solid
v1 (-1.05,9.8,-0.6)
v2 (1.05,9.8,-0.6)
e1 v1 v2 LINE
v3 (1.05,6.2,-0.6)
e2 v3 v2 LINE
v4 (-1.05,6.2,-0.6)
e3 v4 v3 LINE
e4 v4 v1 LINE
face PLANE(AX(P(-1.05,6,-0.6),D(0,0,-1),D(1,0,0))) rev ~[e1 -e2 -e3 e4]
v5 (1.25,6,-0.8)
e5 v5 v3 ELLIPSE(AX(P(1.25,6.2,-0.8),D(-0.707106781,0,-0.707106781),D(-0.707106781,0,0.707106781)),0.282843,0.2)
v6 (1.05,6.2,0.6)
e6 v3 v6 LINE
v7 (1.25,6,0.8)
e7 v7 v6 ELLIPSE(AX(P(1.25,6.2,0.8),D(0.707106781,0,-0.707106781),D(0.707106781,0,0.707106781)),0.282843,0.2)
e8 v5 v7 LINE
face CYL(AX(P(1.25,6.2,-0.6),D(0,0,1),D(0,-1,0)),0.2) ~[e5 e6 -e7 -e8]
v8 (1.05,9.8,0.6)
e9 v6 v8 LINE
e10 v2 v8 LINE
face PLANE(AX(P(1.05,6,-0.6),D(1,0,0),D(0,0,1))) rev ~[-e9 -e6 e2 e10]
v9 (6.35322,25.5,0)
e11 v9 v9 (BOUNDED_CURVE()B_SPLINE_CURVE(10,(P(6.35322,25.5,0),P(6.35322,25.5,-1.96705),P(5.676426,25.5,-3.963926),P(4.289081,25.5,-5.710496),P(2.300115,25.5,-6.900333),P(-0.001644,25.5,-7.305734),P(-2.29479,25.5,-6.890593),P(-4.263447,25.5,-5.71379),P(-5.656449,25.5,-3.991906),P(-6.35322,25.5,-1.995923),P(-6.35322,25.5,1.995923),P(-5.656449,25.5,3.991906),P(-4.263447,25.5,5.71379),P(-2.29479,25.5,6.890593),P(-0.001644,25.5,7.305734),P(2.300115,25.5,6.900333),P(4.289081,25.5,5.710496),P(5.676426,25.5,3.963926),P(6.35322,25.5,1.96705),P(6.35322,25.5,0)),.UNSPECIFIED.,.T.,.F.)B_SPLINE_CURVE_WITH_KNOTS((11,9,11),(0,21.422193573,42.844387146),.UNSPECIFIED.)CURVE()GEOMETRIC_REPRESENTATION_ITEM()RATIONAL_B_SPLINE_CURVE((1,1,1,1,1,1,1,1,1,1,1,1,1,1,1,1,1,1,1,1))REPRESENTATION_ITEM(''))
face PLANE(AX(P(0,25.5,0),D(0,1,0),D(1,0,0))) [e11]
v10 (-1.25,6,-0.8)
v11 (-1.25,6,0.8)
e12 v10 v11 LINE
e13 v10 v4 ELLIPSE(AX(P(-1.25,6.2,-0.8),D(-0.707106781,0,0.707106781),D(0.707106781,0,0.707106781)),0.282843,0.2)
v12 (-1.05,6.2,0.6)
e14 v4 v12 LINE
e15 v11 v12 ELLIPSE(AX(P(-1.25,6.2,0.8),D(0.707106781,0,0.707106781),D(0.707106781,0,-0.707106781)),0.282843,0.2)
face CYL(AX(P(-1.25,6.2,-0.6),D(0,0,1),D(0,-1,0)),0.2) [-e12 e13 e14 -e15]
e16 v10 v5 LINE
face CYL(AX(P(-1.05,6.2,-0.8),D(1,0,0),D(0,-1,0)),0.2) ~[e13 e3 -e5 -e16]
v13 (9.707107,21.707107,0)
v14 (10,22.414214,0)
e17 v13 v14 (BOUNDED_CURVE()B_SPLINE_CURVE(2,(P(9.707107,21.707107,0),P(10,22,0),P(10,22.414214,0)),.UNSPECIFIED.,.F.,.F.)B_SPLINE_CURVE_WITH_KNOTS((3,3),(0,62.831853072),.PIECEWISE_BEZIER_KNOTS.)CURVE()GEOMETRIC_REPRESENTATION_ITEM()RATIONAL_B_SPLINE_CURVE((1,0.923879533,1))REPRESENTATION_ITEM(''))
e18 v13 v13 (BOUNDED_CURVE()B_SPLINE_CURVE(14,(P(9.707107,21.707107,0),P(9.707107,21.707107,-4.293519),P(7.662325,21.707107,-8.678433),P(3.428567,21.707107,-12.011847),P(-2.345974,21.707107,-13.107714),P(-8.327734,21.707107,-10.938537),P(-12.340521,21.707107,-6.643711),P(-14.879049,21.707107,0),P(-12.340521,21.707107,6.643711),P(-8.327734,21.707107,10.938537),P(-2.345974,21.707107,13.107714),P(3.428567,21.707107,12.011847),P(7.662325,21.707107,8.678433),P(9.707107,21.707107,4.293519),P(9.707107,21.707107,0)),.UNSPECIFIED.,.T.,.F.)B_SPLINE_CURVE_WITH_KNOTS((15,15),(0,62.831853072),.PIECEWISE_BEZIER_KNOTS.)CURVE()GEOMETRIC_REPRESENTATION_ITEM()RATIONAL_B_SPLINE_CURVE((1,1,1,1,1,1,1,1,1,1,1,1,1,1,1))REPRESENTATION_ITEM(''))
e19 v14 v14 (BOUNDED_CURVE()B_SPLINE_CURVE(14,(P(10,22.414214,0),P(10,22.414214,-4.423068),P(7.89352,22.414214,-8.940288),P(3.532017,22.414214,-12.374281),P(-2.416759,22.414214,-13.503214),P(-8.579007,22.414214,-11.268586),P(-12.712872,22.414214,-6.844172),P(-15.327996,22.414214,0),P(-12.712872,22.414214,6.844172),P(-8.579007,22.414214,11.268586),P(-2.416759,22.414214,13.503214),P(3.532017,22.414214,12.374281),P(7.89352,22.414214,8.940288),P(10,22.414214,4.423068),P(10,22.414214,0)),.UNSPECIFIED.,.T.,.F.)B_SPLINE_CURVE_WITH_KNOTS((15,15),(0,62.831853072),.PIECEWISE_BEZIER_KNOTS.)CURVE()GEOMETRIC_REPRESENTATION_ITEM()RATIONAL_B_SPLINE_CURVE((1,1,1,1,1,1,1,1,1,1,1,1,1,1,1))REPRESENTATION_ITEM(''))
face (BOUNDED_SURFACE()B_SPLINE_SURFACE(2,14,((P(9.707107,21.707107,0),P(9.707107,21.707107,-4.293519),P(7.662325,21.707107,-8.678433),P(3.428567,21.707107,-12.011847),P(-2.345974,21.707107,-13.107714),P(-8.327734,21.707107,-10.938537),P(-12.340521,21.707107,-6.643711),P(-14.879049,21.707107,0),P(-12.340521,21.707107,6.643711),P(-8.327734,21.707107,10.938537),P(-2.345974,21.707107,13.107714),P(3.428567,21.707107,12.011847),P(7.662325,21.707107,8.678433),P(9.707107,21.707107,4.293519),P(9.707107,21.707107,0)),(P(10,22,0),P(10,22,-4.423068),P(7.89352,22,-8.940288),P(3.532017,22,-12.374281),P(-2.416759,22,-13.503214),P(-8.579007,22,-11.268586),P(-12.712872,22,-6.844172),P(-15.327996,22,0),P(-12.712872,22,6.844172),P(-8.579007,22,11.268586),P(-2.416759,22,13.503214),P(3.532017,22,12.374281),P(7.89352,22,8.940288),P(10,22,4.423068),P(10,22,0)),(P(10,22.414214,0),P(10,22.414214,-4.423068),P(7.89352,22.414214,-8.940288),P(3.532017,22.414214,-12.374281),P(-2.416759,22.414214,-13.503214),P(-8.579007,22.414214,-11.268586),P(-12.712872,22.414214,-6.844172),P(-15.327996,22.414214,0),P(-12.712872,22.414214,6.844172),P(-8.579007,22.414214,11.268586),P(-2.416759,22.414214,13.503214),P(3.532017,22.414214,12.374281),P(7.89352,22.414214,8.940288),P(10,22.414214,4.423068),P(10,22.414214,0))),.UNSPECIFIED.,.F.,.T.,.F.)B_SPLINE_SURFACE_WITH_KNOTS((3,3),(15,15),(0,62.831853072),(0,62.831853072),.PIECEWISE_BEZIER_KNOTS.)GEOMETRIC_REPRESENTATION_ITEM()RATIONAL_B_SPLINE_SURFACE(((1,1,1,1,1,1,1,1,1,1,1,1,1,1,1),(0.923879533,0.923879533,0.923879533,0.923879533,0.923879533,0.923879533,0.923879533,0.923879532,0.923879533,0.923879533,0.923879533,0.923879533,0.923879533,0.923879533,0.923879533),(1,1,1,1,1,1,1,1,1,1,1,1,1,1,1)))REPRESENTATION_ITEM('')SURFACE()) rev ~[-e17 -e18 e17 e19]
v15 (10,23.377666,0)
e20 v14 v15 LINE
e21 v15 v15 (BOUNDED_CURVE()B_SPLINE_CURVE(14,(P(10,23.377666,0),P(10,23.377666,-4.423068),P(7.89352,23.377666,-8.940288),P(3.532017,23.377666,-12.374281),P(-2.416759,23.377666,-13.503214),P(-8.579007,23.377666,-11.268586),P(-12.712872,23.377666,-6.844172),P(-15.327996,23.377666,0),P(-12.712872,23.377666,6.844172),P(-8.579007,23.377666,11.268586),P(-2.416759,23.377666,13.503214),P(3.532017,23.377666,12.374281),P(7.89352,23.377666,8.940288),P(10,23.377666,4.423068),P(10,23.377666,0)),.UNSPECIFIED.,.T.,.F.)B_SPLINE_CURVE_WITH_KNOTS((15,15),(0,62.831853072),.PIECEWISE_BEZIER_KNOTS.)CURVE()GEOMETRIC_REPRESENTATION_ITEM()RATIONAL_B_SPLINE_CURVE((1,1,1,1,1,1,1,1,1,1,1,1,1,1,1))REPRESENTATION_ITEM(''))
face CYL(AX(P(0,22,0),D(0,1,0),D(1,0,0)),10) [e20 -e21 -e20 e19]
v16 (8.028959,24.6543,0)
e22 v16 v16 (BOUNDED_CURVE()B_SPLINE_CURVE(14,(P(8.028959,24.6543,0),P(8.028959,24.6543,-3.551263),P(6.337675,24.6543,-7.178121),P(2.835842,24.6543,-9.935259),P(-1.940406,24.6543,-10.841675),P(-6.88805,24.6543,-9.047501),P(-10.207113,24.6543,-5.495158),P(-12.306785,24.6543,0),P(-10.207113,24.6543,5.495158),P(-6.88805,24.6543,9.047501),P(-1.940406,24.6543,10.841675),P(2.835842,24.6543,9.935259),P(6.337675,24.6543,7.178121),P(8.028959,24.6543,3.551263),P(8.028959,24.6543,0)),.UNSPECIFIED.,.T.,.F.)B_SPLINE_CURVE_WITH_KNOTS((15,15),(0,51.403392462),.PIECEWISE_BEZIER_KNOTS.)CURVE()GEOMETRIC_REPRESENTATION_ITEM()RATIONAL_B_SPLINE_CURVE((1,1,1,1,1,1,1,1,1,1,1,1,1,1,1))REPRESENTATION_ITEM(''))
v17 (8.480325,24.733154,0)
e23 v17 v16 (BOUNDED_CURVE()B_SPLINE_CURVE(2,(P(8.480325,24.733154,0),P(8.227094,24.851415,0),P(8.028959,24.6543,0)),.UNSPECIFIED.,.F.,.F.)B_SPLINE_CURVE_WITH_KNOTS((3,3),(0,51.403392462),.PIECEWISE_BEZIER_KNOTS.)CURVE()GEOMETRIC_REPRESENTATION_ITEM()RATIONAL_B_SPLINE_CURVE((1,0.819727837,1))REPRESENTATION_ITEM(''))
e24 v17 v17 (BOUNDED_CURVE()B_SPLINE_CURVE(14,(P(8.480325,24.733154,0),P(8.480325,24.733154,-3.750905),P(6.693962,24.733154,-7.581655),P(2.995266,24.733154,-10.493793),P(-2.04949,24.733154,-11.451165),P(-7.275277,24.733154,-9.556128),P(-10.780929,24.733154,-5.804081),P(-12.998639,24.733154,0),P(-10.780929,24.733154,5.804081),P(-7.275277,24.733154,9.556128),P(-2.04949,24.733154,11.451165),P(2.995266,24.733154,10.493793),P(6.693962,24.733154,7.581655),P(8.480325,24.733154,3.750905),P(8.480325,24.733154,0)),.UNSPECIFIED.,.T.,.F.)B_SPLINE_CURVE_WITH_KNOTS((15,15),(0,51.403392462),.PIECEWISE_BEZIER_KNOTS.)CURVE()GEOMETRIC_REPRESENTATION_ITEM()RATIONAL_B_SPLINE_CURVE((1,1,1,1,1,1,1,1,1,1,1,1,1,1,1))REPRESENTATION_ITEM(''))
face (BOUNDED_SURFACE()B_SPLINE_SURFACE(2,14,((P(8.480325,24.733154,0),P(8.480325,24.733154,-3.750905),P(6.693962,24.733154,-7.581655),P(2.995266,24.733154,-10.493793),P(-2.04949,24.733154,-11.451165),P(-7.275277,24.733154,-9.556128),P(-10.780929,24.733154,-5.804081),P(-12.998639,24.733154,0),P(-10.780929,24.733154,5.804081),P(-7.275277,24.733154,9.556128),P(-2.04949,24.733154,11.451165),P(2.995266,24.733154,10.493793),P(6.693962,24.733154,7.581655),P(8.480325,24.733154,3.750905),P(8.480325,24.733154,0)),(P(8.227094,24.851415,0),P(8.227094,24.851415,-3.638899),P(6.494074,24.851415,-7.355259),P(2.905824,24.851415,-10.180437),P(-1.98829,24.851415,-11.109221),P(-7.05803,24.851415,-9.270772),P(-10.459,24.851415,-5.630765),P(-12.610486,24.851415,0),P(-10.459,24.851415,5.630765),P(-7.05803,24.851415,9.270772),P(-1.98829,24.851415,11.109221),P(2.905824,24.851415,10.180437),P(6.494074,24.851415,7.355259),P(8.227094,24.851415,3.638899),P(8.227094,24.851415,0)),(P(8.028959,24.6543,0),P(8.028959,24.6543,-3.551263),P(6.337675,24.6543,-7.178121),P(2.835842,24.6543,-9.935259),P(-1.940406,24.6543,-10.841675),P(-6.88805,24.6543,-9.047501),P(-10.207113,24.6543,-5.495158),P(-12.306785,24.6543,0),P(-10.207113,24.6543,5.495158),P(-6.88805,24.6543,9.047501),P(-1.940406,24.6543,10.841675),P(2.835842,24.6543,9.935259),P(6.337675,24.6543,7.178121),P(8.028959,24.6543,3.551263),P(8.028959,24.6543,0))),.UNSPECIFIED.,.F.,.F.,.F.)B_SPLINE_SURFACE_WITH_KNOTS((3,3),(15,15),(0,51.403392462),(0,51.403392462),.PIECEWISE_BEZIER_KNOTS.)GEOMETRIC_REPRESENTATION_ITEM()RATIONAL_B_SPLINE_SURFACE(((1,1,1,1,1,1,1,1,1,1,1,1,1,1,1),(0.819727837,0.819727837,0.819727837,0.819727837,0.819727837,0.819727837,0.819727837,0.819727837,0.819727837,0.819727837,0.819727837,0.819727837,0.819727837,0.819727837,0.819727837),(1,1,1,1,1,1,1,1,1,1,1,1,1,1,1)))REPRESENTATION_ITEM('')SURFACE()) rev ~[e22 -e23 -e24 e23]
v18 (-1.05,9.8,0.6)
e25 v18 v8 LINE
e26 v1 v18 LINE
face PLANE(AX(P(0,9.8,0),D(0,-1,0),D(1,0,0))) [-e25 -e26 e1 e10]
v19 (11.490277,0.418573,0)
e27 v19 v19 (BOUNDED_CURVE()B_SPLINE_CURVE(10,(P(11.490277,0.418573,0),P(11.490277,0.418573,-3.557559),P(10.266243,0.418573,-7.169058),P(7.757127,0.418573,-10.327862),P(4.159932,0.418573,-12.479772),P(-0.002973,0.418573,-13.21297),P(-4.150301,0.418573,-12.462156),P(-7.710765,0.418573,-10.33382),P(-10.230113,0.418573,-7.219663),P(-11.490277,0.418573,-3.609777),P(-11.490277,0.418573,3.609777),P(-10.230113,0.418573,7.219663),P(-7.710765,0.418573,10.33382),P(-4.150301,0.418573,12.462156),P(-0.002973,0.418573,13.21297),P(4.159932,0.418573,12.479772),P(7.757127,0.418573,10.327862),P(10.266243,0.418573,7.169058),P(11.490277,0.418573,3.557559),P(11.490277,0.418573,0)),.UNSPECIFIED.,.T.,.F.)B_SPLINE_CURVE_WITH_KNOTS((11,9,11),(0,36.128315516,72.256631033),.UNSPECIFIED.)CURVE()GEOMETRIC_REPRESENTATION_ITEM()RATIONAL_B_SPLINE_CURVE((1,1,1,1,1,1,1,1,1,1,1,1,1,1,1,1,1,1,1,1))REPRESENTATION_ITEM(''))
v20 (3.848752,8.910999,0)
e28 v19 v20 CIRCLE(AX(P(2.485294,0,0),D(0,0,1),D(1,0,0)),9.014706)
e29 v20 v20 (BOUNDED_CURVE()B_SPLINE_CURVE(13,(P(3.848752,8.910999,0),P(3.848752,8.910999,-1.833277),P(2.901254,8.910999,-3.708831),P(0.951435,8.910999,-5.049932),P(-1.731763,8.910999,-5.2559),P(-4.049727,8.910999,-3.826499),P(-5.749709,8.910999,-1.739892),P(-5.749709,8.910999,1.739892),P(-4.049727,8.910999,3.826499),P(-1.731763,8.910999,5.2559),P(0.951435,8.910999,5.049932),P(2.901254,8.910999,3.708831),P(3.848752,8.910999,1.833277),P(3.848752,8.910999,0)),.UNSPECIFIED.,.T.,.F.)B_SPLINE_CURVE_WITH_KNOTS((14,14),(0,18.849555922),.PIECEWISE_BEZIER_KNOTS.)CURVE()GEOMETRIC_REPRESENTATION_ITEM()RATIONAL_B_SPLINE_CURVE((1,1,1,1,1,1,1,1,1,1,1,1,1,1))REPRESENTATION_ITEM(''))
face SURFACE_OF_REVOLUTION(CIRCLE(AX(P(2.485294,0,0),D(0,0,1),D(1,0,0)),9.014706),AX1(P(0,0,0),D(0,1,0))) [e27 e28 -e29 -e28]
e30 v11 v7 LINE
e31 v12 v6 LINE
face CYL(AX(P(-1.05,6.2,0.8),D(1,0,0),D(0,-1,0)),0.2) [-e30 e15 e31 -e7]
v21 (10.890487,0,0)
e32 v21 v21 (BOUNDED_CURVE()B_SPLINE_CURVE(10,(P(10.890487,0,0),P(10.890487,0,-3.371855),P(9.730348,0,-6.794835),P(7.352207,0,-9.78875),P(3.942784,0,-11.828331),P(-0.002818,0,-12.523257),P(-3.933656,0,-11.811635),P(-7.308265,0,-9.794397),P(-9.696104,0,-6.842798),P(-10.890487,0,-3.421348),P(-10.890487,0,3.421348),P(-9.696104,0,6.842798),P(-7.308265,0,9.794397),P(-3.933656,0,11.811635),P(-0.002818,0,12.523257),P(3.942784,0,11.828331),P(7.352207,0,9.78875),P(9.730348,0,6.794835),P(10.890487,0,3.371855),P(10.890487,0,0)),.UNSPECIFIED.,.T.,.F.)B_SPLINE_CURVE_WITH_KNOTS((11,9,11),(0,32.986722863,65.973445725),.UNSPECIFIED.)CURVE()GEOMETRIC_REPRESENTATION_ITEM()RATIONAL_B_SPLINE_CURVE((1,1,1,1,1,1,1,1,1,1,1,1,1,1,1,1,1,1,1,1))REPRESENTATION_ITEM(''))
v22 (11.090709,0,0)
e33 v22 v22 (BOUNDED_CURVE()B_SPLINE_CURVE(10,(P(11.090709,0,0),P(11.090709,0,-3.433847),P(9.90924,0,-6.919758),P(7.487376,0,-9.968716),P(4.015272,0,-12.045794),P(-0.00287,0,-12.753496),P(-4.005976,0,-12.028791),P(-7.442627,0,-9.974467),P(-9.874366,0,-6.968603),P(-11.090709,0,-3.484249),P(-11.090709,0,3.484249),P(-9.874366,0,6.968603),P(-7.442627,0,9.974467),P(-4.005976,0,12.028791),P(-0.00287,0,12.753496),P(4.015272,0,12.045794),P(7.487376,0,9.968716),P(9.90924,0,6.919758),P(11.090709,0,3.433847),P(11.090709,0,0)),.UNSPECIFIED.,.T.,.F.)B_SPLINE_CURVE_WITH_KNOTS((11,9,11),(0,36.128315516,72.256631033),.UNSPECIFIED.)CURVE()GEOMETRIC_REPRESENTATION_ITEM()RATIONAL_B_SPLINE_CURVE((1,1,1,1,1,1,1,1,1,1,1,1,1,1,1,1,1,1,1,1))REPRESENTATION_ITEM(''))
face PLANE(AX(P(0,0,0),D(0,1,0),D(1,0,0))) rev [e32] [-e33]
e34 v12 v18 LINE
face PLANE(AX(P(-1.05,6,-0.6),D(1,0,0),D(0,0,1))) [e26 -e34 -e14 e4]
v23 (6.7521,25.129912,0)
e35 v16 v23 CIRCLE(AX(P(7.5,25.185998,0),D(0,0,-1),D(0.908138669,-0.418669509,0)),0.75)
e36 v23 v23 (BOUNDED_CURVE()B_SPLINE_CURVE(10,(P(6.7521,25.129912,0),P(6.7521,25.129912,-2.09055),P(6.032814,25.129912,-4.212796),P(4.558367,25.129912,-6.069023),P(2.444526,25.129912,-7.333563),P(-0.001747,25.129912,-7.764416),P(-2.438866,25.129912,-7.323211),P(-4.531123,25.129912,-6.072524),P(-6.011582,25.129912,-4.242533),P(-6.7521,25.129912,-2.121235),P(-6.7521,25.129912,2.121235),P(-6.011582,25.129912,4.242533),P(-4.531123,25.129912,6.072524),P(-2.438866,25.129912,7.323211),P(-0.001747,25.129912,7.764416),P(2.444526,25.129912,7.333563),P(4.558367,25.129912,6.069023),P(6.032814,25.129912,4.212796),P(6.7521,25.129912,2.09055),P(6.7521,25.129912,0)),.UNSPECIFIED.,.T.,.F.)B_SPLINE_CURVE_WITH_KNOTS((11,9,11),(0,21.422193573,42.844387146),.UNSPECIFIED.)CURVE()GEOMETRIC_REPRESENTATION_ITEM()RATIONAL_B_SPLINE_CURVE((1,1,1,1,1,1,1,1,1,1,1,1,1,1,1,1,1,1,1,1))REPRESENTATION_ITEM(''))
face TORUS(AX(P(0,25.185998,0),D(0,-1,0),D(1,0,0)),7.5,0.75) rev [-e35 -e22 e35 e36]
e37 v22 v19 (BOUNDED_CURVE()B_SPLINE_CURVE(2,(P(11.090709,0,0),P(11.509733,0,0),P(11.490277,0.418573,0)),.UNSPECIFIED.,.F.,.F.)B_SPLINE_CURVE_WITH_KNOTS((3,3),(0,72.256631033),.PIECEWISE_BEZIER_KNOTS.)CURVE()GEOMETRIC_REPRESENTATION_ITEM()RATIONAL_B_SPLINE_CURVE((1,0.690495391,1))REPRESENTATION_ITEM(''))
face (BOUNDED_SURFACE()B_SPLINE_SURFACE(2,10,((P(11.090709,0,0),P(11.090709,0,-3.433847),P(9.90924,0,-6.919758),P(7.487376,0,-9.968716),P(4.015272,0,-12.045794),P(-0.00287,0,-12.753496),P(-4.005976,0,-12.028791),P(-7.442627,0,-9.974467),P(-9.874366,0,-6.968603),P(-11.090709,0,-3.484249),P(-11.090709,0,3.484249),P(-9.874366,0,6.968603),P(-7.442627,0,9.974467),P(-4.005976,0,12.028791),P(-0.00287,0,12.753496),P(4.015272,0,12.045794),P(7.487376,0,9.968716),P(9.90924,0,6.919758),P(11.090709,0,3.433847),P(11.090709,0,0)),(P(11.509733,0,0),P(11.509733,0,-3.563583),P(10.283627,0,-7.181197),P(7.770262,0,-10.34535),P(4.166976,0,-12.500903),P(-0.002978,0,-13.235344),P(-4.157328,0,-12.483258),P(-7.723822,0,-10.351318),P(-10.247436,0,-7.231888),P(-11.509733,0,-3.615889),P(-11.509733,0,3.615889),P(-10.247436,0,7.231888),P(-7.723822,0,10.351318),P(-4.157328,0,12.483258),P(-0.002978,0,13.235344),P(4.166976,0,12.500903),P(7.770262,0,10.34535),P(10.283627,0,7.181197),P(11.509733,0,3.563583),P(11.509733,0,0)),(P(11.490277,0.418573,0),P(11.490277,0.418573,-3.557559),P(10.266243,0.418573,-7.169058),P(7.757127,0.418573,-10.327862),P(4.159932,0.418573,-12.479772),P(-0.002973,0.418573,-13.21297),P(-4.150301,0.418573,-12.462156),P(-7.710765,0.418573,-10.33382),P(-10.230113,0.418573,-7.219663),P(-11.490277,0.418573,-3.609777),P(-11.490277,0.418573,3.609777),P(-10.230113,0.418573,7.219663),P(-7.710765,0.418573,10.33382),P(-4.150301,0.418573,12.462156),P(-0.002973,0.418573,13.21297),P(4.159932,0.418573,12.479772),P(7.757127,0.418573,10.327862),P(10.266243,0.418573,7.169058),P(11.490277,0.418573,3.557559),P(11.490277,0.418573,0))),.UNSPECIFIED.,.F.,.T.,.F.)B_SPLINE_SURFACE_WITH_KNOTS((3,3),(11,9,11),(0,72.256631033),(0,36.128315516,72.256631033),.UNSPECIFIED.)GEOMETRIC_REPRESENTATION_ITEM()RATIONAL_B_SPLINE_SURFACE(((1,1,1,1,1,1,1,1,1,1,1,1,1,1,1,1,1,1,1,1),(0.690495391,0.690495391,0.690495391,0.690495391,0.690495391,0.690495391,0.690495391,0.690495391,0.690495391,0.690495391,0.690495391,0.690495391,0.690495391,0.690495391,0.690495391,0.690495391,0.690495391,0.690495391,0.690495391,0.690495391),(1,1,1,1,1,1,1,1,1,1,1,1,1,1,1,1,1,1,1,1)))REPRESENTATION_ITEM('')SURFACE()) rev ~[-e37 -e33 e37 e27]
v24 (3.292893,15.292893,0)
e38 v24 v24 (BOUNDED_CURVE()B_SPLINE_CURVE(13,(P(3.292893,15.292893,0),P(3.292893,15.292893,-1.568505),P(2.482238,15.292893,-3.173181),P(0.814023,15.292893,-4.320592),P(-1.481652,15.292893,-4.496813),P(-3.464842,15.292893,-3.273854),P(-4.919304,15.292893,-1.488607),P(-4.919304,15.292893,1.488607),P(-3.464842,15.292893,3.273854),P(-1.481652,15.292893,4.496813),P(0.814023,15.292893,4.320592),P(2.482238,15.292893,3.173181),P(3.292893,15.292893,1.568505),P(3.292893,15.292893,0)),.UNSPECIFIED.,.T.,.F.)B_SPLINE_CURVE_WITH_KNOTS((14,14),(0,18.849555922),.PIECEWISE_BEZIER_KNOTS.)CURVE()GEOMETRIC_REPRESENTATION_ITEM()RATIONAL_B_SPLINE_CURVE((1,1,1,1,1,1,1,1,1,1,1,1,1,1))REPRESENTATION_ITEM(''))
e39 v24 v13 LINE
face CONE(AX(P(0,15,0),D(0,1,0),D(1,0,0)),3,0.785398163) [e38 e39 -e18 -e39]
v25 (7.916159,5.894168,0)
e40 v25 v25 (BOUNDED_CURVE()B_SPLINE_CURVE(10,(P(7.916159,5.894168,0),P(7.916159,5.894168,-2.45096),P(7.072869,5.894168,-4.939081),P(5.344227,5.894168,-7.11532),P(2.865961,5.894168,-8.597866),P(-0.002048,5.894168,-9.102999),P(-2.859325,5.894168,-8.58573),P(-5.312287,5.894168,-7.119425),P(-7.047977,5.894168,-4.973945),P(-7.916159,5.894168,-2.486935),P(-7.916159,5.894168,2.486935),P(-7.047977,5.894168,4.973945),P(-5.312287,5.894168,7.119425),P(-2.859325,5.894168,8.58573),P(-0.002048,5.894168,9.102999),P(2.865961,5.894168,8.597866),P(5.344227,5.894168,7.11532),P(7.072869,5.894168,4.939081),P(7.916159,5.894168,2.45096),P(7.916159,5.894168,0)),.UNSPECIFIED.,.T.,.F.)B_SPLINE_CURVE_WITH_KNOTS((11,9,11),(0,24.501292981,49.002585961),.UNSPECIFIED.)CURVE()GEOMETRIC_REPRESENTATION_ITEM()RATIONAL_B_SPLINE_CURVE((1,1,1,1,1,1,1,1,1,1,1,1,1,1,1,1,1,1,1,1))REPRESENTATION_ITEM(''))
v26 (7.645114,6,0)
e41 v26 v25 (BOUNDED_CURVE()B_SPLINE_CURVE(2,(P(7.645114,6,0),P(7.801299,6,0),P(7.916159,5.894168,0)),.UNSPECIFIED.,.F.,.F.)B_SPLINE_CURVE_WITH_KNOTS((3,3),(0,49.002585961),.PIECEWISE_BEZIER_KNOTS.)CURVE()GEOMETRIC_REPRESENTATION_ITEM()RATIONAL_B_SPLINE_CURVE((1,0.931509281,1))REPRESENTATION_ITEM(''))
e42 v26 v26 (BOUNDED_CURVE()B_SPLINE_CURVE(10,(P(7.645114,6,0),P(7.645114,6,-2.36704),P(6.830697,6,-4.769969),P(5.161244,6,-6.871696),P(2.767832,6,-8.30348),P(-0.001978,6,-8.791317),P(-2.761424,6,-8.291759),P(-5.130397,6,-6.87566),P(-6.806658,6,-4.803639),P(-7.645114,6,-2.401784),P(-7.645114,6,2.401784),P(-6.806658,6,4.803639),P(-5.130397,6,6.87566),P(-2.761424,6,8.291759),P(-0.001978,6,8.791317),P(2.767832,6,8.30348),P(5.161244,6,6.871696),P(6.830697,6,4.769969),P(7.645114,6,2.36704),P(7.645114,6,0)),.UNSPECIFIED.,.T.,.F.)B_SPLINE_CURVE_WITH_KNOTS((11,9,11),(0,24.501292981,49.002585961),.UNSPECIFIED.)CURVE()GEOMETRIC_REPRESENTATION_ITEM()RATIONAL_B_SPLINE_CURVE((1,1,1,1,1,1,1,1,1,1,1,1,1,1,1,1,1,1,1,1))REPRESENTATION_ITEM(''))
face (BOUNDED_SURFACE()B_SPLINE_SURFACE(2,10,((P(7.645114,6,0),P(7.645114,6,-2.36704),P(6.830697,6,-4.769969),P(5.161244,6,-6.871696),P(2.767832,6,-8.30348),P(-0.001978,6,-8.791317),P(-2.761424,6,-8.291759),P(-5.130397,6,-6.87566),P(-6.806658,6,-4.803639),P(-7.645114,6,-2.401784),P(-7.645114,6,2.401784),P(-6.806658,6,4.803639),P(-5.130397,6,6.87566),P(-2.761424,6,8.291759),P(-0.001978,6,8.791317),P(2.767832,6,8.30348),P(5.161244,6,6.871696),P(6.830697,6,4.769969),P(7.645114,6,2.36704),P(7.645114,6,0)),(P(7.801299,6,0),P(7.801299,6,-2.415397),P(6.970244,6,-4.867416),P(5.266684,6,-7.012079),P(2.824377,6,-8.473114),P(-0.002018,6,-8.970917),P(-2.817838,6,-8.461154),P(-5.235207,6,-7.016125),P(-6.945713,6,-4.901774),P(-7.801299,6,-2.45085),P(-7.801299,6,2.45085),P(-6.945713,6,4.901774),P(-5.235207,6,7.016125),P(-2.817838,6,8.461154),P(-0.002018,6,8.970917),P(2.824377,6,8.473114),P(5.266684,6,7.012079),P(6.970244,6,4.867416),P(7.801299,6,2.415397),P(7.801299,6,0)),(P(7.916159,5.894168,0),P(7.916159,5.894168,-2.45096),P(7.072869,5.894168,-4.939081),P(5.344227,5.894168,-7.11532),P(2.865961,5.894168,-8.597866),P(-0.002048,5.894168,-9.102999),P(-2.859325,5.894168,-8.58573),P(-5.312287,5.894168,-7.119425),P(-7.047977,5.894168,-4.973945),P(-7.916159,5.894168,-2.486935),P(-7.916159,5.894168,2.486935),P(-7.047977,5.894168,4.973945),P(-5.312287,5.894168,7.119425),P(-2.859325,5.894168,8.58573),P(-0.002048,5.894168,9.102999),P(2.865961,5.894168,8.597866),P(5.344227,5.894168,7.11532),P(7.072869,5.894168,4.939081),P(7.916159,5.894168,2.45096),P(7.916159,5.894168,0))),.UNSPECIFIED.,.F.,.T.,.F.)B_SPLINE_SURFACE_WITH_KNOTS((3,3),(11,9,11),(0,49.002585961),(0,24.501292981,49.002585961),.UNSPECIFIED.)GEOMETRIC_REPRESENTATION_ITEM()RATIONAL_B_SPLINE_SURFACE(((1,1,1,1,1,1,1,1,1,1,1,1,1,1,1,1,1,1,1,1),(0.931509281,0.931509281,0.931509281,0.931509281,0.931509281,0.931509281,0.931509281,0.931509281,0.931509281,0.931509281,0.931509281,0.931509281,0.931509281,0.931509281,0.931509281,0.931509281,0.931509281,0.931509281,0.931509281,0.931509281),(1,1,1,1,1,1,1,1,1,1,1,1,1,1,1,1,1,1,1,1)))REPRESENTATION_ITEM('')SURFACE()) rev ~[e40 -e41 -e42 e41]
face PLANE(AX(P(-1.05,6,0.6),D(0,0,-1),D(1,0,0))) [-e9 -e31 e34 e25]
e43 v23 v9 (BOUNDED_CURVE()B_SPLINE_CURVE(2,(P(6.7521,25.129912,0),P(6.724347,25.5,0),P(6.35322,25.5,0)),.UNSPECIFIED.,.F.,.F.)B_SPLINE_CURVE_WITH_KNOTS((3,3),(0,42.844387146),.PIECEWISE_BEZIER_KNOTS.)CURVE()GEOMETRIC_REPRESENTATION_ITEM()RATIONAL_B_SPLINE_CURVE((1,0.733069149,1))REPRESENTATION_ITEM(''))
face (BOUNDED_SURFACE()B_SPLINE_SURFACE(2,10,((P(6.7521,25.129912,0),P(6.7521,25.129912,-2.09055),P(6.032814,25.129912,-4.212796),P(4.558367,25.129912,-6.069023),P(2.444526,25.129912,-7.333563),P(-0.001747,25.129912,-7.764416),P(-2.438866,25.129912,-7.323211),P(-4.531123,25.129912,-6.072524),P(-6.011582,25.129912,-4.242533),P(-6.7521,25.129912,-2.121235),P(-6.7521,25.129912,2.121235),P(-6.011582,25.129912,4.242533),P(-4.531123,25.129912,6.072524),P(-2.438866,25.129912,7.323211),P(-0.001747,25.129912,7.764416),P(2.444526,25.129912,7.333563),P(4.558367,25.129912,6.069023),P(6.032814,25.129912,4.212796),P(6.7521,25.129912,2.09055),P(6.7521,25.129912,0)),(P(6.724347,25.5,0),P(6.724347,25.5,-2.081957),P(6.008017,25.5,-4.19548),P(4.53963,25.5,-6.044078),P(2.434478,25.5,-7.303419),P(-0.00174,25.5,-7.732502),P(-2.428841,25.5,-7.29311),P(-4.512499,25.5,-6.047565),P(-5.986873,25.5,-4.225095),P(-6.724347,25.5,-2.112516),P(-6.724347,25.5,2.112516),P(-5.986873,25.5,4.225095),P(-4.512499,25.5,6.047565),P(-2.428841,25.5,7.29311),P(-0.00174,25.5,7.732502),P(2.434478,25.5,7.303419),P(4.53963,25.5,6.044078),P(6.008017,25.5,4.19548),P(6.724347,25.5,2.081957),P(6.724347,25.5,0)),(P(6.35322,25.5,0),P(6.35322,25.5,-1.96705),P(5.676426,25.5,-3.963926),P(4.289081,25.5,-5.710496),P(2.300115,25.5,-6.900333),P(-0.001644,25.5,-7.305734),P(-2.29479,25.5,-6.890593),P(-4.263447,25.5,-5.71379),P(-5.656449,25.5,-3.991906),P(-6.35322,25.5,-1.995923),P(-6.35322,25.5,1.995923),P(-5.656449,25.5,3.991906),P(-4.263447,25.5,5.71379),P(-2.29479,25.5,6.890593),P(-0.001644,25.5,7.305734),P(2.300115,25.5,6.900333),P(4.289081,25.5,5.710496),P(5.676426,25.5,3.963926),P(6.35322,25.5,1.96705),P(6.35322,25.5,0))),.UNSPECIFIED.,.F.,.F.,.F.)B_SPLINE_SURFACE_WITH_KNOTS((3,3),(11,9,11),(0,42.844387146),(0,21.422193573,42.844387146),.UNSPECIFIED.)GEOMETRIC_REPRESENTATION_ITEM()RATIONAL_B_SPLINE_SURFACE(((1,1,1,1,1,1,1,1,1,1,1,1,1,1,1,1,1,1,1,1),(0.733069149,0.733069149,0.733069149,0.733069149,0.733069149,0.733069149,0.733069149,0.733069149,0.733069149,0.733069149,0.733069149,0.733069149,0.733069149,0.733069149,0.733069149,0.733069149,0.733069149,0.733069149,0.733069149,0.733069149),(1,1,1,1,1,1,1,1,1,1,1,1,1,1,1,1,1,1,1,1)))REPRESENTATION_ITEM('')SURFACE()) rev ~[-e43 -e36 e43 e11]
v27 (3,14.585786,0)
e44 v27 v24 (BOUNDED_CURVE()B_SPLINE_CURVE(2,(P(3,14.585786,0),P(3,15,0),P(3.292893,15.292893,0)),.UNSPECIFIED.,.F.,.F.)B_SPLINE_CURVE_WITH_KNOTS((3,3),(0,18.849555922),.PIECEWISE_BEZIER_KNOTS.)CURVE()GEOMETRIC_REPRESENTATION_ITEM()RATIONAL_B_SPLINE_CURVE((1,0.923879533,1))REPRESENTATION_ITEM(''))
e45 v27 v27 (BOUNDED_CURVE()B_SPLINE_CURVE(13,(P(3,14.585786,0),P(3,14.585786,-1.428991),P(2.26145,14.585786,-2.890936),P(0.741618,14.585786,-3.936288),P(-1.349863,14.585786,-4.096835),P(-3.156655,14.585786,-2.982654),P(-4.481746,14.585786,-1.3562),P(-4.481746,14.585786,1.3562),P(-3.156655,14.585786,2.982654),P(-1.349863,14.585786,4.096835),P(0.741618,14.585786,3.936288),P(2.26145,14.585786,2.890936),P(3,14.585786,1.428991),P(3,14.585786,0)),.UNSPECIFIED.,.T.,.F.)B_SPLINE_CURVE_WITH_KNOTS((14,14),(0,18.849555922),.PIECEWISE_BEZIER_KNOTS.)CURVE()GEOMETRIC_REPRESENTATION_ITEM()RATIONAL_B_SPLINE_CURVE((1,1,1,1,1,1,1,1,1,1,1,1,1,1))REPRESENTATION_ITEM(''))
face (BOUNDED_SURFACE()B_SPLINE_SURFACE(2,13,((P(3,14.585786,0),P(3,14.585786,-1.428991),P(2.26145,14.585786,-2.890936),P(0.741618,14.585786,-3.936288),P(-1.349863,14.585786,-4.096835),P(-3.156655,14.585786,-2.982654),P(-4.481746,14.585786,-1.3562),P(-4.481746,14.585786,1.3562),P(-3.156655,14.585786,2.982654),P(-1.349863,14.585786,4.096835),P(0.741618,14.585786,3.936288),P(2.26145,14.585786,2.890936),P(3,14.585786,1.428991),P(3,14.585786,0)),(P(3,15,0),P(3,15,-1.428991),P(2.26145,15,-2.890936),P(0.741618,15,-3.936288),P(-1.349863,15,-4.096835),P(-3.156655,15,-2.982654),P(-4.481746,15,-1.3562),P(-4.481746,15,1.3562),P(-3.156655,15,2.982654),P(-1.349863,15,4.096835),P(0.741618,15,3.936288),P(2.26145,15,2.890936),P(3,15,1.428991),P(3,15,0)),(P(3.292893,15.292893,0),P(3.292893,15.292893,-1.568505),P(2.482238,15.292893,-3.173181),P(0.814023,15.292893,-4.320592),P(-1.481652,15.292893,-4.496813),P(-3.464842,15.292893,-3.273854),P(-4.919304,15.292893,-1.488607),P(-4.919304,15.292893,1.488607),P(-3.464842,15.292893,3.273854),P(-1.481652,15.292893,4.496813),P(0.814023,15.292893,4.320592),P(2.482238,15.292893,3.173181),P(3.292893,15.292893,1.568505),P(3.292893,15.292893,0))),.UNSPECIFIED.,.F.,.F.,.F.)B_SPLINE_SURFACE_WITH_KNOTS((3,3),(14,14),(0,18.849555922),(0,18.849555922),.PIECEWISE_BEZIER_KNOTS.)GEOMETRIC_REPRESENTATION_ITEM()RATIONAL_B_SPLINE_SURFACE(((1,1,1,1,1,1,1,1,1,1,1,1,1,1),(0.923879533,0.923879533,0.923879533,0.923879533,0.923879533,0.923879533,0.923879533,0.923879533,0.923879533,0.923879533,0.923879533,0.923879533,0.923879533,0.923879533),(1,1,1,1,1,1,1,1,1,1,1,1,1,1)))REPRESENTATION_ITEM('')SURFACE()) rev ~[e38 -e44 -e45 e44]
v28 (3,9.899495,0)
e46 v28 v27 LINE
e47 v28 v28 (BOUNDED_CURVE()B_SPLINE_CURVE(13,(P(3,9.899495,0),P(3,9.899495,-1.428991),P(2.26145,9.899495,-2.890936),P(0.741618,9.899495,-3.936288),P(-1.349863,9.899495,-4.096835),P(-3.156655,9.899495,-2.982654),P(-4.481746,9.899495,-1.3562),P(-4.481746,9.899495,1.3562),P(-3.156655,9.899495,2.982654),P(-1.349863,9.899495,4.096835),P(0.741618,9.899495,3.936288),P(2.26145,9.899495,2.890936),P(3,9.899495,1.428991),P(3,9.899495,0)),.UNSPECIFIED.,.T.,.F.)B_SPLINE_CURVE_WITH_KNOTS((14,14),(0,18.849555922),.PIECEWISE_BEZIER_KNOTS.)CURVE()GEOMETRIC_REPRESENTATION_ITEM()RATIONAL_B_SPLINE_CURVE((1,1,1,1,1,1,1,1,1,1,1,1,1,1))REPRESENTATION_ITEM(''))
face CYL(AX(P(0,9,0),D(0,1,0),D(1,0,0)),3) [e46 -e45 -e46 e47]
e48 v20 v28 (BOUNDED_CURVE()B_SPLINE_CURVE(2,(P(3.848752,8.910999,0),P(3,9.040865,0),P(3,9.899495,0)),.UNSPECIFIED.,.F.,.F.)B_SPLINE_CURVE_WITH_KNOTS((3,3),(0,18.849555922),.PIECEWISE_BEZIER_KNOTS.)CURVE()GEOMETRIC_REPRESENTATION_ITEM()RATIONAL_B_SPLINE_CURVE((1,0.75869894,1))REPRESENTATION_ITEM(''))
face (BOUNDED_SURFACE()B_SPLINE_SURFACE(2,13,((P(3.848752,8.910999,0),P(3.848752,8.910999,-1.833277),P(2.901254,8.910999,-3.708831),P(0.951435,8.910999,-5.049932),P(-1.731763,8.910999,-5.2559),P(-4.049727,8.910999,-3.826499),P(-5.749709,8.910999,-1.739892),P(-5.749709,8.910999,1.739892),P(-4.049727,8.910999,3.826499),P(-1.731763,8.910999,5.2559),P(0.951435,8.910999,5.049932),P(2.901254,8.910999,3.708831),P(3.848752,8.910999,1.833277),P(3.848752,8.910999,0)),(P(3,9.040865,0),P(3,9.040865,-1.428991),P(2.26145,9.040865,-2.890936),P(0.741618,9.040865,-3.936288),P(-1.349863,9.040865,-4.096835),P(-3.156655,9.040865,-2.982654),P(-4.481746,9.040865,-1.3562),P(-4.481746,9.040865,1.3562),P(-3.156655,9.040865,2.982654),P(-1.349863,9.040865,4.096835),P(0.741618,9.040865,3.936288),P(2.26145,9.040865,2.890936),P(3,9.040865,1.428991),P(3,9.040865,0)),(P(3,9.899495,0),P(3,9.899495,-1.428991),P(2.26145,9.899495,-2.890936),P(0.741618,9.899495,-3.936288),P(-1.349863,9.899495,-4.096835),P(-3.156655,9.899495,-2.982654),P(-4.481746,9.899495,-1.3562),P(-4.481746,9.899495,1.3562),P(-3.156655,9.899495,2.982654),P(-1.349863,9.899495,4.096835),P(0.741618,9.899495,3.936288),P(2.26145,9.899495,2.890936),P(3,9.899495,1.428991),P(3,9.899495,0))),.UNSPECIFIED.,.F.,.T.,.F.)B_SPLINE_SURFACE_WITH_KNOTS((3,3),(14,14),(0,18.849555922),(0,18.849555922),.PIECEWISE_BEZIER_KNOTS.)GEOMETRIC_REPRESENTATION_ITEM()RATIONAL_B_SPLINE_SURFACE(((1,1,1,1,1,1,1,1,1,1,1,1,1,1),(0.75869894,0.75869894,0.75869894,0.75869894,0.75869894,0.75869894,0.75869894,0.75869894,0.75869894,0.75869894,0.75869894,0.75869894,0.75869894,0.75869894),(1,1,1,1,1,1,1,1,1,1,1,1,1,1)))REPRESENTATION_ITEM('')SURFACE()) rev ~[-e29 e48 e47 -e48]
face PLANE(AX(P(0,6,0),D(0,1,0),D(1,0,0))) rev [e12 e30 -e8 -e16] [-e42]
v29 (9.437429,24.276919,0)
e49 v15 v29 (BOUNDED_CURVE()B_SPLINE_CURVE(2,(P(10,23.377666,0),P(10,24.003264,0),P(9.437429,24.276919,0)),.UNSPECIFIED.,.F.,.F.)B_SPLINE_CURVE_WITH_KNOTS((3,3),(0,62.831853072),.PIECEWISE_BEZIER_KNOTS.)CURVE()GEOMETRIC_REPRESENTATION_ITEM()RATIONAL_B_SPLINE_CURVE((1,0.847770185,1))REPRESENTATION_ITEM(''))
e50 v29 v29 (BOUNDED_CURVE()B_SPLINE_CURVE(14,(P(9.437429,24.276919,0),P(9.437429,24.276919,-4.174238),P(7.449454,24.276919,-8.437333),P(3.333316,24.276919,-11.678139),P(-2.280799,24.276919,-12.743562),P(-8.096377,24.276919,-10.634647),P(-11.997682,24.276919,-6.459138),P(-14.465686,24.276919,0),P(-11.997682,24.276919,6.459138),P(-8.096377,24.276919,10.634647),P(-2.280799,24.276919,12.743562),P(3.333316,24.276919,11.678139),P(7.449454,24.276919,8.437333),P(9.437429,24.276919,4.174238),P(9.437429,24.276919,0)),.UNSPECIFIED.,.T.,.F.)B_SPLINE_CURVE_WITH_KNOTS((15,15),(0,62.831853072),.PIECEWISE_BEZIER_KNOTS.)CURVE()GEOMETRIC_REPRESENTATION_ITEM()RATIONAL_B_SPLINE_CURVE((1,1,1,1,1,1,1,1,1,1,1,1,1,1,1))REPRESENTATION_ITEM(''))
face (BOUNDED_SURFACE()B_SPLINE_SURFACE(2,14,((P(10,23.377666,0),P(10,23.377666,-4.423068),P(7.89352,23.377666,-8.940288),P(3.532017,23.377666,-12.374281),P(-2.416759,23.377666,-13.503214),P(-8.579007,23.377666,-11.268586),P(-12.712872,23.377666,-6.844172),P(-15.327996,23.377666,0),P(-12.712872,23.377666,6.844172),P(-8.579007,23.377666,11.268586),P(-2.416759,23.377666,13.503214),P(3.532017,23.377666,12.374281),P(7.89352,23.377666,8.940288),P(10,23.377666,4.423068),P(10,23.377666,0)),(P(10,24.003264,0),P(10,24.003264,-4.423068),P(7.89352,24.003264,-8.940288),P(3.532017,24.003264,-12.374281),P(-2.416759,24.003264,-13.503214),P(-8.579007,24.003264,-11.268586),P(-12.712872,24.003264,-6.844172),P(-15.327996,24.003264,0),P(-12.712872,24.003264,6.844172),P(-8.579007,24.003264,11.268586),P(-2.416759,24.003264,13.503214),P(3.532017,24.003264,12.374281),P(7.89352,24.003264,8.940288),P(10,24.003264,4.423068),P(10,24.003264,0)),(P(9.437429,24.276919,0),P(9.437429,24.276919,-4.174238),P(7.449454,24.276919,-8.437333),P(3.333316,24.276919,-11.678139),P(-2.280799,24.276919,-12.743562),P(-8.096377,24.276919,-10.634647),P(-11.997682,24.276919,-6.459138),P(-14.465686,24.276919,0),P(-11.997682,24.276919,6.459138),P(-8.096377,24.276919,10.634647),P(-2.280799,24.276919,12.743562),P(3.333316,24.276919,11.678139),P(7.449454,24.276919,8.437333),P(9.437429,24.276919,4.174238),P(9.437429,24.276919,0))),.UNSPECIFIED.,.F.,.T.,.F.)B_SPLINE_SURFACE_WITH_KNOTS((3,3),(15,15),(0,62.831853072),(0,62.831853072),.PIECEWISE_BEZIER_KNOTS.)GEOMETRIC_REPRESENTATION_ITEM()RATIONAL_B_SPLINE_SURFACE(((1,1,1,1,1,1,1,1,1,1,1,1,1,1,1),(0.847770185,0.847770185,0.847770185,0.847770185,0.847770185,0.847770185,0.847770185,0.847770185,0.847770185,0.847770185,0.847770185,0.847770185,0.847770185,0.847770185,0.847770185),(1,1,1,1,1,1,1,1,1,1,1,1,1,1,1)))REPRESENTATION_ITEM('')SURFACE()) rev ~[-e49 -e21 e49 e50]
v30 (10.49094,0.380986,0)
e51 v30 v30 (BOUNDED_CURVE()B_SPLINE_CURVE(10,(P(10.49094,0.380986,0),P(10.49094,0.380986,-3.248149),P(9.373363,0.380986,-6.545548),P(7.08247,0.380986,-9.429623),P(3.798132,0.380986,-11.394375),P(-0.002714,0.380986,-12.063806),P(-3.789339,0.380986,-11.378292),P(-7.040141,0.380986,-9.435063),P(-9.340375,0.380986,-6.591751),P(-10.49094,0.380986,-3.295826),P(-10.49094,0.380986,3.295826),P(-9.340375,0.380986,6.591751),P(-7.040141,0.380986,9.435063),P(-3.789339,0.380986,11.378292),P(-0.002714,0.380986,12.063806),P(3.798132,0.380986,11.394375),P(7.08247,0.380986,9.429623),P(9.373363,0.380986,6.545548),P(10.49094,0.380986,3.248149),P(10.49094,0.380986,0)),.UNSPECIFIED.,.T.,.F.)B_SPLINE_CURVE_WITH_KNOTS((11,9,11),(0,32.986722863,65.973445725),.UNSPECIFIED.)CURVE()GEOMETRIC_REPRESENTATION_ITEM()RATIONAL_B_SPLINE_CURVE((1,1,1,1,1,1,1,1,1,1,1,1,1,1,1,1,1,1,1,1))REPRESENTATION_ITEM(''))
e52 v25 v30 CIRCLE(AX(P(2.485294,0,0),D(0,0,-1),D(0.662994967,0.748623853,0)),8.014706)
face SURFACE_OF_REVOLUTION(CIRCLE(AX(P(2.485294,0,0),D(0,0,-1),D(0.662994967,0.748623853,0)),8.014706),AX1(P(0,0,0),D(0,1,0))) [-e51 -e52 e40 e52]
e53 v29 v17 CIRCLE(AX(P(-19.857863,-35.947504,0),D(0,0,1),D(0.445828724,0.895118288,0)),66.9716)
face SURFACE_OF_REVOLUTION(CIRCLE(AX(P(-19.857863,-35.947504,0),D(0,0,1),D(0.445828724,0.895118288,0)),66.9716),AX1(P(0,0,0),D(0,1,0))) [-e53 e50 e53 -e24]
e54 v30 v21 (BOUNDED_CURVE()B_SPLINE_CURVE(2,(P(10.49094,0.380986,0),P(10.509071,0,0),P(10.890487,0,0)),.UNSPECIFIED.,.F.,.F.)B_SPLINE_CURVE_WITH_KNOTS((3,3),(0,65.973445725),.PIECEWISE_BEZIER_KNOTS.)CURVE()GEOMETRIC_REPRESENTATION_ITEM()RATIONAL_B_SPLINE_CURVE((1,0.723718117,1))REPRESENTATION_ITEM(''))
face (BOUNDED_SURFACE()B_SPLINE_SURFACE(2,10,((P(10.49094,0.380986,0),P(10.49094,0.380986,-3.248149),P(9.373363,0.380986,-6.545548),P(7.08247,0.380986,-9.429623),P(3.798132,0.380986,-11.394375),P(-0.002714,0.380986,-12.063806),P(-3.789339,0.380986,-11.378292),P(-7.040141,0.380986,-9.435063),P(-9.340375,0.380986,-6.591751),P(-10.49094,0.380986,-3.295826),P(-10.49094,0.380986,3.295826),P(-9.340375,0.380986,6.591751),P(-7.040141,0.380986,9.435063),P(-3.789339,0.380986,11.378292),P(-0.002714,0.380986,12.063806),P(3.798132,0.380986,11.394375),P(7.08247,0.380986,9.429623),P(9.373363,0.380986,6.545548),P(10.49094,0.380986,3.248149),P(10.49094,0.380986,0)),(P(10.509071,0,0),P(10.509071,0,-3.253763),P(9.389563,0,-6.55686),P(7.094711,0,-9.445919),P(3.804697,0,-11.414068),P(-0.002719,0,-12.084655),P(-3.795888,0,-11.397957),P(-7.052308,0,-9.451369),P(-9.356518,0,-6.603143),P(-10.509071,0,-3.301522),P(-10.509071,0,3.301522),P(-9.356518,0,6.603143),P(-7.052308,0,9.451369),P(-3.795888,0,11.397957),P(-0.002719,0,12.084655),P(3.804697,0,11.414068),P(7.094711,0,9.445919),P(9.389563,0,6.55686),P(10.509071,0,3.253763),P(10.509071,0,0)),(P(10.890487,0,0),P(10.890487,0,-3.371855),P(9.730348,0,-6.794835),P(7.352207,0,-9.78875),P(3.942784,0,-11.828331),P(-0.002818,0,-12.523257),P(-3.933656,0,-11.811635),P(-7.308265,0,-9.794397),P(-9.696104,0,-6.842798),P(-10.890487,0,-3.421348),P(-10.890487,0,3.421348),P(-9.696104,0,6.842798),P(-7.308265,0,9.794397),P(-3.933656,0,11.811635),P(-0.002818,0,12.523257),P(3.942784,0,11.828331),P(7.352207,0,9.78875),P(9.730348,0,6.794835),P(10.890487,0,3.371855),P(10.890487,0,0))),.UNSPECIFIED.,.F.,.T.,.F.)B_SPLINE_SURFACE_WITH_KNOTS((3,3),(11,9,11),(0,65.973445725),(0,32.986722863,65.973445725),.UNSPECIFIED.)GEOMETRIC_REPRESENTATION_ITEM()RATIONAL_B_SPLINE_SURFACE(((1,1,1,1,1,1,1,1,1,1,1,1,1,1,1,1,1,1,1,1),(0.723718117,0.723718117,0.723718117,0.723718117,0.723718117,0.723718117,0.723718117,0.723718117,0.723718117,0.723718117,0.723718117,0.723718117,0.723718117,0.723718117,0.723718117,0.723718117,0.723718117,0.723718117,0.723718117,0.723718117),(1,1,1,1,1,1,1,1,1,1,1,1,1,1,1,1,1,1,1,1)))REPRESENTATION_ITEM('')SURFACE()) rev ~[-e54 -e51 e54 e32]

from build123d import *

# Parameters (mm, degrees)
SKETCH_2_W          = 2.1
SKETCH_2_H          = 1.2
CUT_EXTRUDE_1_DEPTH = 3.8
FILLET_1_R          = 0.4
FILLET_2_R          = 1
FILLET_3_R          = 0.2


with BuildPart() as part:
    # 草图1 → 旋转1 (revolve)
    with BuildSketch(Plane.XY):
        with BuildLine():
            Line((0, 25.5), (0, 7.619634081))
            Line((0, 7.619634081), (0, 6))
            Line((0, 6), (7.79900378, 6))
            ThreePointArc((7.79900378, 6), (9.793622602, 3.289961268), (10.5, 0))
            Line((10.5, 0), (11.5, 0))
            ThreePointArc((11.5, 0), (9.03910386, 6.189709202), (3, 9))
            Line((3, 9), (3, 15))
            Line((3, 15), (10, 22))
            Line((10, 22), (10, 24))
            ThreePointArc((10, 24), (9.09383514, 24.442846169), (8.181104002, 24.871995736))
            ThreePointArc((8.181104002, 24.871995736), (7.185997868, 24.504893866), (6.818895998, 25.5))
            Line((6.818895998, 25.5), (0, 25.5))
        make_face()
    revolve(axis=Axis((0, 0, 0), (0, 1, 0)))

    # 草图2 → 切除-拉伸1 (cut)
    with BuildSketch(Plane.XZ.offset(-6)):
        Rectangle(SKETCH_2_W, SKETCH_2_H)
    extrude(amount=-CUT_EXTRUDE_1_DEPTH, mode=Mode.SUBTRACT)

    # 圆角1
    fillet_1_edges = [part.edges().sort_by_distance(p)[0] for p in [
        (-6.818895998, 25.5, 0),
        (-8.181104002, 24.871995736, 0),
        (-11.5, 0, 0),
        (-10.5, 0, 0),
        (-7.79900378, 6, 0),
    ]]
    fillet(fillet_1_edges, radius=FILLET_1_R)

    # 圆角2
    fillet_2_edges = [part.edges().sort_by_distance(p)[0] for p in [
        (-10, 24, 0),
        (-10, 22, 0),
        (-3, 15, 0),
        (-3, 9, 0),
    ]]
    fillet(fillet_2_edges, radius=FILLET_2_R)

    # 圆角3
    fillet_3_edges = [part.edges().sort_by_distance(p)[0] for p in [
        (1.05, 6, 0),
        (0, 6, 0.6),
        (-1.05, 6, 0),
        (0, 6, -0.6),
    ]]
    fillet(fillet_3_edges, radius=FILLET_3_R)


solid = part.part
